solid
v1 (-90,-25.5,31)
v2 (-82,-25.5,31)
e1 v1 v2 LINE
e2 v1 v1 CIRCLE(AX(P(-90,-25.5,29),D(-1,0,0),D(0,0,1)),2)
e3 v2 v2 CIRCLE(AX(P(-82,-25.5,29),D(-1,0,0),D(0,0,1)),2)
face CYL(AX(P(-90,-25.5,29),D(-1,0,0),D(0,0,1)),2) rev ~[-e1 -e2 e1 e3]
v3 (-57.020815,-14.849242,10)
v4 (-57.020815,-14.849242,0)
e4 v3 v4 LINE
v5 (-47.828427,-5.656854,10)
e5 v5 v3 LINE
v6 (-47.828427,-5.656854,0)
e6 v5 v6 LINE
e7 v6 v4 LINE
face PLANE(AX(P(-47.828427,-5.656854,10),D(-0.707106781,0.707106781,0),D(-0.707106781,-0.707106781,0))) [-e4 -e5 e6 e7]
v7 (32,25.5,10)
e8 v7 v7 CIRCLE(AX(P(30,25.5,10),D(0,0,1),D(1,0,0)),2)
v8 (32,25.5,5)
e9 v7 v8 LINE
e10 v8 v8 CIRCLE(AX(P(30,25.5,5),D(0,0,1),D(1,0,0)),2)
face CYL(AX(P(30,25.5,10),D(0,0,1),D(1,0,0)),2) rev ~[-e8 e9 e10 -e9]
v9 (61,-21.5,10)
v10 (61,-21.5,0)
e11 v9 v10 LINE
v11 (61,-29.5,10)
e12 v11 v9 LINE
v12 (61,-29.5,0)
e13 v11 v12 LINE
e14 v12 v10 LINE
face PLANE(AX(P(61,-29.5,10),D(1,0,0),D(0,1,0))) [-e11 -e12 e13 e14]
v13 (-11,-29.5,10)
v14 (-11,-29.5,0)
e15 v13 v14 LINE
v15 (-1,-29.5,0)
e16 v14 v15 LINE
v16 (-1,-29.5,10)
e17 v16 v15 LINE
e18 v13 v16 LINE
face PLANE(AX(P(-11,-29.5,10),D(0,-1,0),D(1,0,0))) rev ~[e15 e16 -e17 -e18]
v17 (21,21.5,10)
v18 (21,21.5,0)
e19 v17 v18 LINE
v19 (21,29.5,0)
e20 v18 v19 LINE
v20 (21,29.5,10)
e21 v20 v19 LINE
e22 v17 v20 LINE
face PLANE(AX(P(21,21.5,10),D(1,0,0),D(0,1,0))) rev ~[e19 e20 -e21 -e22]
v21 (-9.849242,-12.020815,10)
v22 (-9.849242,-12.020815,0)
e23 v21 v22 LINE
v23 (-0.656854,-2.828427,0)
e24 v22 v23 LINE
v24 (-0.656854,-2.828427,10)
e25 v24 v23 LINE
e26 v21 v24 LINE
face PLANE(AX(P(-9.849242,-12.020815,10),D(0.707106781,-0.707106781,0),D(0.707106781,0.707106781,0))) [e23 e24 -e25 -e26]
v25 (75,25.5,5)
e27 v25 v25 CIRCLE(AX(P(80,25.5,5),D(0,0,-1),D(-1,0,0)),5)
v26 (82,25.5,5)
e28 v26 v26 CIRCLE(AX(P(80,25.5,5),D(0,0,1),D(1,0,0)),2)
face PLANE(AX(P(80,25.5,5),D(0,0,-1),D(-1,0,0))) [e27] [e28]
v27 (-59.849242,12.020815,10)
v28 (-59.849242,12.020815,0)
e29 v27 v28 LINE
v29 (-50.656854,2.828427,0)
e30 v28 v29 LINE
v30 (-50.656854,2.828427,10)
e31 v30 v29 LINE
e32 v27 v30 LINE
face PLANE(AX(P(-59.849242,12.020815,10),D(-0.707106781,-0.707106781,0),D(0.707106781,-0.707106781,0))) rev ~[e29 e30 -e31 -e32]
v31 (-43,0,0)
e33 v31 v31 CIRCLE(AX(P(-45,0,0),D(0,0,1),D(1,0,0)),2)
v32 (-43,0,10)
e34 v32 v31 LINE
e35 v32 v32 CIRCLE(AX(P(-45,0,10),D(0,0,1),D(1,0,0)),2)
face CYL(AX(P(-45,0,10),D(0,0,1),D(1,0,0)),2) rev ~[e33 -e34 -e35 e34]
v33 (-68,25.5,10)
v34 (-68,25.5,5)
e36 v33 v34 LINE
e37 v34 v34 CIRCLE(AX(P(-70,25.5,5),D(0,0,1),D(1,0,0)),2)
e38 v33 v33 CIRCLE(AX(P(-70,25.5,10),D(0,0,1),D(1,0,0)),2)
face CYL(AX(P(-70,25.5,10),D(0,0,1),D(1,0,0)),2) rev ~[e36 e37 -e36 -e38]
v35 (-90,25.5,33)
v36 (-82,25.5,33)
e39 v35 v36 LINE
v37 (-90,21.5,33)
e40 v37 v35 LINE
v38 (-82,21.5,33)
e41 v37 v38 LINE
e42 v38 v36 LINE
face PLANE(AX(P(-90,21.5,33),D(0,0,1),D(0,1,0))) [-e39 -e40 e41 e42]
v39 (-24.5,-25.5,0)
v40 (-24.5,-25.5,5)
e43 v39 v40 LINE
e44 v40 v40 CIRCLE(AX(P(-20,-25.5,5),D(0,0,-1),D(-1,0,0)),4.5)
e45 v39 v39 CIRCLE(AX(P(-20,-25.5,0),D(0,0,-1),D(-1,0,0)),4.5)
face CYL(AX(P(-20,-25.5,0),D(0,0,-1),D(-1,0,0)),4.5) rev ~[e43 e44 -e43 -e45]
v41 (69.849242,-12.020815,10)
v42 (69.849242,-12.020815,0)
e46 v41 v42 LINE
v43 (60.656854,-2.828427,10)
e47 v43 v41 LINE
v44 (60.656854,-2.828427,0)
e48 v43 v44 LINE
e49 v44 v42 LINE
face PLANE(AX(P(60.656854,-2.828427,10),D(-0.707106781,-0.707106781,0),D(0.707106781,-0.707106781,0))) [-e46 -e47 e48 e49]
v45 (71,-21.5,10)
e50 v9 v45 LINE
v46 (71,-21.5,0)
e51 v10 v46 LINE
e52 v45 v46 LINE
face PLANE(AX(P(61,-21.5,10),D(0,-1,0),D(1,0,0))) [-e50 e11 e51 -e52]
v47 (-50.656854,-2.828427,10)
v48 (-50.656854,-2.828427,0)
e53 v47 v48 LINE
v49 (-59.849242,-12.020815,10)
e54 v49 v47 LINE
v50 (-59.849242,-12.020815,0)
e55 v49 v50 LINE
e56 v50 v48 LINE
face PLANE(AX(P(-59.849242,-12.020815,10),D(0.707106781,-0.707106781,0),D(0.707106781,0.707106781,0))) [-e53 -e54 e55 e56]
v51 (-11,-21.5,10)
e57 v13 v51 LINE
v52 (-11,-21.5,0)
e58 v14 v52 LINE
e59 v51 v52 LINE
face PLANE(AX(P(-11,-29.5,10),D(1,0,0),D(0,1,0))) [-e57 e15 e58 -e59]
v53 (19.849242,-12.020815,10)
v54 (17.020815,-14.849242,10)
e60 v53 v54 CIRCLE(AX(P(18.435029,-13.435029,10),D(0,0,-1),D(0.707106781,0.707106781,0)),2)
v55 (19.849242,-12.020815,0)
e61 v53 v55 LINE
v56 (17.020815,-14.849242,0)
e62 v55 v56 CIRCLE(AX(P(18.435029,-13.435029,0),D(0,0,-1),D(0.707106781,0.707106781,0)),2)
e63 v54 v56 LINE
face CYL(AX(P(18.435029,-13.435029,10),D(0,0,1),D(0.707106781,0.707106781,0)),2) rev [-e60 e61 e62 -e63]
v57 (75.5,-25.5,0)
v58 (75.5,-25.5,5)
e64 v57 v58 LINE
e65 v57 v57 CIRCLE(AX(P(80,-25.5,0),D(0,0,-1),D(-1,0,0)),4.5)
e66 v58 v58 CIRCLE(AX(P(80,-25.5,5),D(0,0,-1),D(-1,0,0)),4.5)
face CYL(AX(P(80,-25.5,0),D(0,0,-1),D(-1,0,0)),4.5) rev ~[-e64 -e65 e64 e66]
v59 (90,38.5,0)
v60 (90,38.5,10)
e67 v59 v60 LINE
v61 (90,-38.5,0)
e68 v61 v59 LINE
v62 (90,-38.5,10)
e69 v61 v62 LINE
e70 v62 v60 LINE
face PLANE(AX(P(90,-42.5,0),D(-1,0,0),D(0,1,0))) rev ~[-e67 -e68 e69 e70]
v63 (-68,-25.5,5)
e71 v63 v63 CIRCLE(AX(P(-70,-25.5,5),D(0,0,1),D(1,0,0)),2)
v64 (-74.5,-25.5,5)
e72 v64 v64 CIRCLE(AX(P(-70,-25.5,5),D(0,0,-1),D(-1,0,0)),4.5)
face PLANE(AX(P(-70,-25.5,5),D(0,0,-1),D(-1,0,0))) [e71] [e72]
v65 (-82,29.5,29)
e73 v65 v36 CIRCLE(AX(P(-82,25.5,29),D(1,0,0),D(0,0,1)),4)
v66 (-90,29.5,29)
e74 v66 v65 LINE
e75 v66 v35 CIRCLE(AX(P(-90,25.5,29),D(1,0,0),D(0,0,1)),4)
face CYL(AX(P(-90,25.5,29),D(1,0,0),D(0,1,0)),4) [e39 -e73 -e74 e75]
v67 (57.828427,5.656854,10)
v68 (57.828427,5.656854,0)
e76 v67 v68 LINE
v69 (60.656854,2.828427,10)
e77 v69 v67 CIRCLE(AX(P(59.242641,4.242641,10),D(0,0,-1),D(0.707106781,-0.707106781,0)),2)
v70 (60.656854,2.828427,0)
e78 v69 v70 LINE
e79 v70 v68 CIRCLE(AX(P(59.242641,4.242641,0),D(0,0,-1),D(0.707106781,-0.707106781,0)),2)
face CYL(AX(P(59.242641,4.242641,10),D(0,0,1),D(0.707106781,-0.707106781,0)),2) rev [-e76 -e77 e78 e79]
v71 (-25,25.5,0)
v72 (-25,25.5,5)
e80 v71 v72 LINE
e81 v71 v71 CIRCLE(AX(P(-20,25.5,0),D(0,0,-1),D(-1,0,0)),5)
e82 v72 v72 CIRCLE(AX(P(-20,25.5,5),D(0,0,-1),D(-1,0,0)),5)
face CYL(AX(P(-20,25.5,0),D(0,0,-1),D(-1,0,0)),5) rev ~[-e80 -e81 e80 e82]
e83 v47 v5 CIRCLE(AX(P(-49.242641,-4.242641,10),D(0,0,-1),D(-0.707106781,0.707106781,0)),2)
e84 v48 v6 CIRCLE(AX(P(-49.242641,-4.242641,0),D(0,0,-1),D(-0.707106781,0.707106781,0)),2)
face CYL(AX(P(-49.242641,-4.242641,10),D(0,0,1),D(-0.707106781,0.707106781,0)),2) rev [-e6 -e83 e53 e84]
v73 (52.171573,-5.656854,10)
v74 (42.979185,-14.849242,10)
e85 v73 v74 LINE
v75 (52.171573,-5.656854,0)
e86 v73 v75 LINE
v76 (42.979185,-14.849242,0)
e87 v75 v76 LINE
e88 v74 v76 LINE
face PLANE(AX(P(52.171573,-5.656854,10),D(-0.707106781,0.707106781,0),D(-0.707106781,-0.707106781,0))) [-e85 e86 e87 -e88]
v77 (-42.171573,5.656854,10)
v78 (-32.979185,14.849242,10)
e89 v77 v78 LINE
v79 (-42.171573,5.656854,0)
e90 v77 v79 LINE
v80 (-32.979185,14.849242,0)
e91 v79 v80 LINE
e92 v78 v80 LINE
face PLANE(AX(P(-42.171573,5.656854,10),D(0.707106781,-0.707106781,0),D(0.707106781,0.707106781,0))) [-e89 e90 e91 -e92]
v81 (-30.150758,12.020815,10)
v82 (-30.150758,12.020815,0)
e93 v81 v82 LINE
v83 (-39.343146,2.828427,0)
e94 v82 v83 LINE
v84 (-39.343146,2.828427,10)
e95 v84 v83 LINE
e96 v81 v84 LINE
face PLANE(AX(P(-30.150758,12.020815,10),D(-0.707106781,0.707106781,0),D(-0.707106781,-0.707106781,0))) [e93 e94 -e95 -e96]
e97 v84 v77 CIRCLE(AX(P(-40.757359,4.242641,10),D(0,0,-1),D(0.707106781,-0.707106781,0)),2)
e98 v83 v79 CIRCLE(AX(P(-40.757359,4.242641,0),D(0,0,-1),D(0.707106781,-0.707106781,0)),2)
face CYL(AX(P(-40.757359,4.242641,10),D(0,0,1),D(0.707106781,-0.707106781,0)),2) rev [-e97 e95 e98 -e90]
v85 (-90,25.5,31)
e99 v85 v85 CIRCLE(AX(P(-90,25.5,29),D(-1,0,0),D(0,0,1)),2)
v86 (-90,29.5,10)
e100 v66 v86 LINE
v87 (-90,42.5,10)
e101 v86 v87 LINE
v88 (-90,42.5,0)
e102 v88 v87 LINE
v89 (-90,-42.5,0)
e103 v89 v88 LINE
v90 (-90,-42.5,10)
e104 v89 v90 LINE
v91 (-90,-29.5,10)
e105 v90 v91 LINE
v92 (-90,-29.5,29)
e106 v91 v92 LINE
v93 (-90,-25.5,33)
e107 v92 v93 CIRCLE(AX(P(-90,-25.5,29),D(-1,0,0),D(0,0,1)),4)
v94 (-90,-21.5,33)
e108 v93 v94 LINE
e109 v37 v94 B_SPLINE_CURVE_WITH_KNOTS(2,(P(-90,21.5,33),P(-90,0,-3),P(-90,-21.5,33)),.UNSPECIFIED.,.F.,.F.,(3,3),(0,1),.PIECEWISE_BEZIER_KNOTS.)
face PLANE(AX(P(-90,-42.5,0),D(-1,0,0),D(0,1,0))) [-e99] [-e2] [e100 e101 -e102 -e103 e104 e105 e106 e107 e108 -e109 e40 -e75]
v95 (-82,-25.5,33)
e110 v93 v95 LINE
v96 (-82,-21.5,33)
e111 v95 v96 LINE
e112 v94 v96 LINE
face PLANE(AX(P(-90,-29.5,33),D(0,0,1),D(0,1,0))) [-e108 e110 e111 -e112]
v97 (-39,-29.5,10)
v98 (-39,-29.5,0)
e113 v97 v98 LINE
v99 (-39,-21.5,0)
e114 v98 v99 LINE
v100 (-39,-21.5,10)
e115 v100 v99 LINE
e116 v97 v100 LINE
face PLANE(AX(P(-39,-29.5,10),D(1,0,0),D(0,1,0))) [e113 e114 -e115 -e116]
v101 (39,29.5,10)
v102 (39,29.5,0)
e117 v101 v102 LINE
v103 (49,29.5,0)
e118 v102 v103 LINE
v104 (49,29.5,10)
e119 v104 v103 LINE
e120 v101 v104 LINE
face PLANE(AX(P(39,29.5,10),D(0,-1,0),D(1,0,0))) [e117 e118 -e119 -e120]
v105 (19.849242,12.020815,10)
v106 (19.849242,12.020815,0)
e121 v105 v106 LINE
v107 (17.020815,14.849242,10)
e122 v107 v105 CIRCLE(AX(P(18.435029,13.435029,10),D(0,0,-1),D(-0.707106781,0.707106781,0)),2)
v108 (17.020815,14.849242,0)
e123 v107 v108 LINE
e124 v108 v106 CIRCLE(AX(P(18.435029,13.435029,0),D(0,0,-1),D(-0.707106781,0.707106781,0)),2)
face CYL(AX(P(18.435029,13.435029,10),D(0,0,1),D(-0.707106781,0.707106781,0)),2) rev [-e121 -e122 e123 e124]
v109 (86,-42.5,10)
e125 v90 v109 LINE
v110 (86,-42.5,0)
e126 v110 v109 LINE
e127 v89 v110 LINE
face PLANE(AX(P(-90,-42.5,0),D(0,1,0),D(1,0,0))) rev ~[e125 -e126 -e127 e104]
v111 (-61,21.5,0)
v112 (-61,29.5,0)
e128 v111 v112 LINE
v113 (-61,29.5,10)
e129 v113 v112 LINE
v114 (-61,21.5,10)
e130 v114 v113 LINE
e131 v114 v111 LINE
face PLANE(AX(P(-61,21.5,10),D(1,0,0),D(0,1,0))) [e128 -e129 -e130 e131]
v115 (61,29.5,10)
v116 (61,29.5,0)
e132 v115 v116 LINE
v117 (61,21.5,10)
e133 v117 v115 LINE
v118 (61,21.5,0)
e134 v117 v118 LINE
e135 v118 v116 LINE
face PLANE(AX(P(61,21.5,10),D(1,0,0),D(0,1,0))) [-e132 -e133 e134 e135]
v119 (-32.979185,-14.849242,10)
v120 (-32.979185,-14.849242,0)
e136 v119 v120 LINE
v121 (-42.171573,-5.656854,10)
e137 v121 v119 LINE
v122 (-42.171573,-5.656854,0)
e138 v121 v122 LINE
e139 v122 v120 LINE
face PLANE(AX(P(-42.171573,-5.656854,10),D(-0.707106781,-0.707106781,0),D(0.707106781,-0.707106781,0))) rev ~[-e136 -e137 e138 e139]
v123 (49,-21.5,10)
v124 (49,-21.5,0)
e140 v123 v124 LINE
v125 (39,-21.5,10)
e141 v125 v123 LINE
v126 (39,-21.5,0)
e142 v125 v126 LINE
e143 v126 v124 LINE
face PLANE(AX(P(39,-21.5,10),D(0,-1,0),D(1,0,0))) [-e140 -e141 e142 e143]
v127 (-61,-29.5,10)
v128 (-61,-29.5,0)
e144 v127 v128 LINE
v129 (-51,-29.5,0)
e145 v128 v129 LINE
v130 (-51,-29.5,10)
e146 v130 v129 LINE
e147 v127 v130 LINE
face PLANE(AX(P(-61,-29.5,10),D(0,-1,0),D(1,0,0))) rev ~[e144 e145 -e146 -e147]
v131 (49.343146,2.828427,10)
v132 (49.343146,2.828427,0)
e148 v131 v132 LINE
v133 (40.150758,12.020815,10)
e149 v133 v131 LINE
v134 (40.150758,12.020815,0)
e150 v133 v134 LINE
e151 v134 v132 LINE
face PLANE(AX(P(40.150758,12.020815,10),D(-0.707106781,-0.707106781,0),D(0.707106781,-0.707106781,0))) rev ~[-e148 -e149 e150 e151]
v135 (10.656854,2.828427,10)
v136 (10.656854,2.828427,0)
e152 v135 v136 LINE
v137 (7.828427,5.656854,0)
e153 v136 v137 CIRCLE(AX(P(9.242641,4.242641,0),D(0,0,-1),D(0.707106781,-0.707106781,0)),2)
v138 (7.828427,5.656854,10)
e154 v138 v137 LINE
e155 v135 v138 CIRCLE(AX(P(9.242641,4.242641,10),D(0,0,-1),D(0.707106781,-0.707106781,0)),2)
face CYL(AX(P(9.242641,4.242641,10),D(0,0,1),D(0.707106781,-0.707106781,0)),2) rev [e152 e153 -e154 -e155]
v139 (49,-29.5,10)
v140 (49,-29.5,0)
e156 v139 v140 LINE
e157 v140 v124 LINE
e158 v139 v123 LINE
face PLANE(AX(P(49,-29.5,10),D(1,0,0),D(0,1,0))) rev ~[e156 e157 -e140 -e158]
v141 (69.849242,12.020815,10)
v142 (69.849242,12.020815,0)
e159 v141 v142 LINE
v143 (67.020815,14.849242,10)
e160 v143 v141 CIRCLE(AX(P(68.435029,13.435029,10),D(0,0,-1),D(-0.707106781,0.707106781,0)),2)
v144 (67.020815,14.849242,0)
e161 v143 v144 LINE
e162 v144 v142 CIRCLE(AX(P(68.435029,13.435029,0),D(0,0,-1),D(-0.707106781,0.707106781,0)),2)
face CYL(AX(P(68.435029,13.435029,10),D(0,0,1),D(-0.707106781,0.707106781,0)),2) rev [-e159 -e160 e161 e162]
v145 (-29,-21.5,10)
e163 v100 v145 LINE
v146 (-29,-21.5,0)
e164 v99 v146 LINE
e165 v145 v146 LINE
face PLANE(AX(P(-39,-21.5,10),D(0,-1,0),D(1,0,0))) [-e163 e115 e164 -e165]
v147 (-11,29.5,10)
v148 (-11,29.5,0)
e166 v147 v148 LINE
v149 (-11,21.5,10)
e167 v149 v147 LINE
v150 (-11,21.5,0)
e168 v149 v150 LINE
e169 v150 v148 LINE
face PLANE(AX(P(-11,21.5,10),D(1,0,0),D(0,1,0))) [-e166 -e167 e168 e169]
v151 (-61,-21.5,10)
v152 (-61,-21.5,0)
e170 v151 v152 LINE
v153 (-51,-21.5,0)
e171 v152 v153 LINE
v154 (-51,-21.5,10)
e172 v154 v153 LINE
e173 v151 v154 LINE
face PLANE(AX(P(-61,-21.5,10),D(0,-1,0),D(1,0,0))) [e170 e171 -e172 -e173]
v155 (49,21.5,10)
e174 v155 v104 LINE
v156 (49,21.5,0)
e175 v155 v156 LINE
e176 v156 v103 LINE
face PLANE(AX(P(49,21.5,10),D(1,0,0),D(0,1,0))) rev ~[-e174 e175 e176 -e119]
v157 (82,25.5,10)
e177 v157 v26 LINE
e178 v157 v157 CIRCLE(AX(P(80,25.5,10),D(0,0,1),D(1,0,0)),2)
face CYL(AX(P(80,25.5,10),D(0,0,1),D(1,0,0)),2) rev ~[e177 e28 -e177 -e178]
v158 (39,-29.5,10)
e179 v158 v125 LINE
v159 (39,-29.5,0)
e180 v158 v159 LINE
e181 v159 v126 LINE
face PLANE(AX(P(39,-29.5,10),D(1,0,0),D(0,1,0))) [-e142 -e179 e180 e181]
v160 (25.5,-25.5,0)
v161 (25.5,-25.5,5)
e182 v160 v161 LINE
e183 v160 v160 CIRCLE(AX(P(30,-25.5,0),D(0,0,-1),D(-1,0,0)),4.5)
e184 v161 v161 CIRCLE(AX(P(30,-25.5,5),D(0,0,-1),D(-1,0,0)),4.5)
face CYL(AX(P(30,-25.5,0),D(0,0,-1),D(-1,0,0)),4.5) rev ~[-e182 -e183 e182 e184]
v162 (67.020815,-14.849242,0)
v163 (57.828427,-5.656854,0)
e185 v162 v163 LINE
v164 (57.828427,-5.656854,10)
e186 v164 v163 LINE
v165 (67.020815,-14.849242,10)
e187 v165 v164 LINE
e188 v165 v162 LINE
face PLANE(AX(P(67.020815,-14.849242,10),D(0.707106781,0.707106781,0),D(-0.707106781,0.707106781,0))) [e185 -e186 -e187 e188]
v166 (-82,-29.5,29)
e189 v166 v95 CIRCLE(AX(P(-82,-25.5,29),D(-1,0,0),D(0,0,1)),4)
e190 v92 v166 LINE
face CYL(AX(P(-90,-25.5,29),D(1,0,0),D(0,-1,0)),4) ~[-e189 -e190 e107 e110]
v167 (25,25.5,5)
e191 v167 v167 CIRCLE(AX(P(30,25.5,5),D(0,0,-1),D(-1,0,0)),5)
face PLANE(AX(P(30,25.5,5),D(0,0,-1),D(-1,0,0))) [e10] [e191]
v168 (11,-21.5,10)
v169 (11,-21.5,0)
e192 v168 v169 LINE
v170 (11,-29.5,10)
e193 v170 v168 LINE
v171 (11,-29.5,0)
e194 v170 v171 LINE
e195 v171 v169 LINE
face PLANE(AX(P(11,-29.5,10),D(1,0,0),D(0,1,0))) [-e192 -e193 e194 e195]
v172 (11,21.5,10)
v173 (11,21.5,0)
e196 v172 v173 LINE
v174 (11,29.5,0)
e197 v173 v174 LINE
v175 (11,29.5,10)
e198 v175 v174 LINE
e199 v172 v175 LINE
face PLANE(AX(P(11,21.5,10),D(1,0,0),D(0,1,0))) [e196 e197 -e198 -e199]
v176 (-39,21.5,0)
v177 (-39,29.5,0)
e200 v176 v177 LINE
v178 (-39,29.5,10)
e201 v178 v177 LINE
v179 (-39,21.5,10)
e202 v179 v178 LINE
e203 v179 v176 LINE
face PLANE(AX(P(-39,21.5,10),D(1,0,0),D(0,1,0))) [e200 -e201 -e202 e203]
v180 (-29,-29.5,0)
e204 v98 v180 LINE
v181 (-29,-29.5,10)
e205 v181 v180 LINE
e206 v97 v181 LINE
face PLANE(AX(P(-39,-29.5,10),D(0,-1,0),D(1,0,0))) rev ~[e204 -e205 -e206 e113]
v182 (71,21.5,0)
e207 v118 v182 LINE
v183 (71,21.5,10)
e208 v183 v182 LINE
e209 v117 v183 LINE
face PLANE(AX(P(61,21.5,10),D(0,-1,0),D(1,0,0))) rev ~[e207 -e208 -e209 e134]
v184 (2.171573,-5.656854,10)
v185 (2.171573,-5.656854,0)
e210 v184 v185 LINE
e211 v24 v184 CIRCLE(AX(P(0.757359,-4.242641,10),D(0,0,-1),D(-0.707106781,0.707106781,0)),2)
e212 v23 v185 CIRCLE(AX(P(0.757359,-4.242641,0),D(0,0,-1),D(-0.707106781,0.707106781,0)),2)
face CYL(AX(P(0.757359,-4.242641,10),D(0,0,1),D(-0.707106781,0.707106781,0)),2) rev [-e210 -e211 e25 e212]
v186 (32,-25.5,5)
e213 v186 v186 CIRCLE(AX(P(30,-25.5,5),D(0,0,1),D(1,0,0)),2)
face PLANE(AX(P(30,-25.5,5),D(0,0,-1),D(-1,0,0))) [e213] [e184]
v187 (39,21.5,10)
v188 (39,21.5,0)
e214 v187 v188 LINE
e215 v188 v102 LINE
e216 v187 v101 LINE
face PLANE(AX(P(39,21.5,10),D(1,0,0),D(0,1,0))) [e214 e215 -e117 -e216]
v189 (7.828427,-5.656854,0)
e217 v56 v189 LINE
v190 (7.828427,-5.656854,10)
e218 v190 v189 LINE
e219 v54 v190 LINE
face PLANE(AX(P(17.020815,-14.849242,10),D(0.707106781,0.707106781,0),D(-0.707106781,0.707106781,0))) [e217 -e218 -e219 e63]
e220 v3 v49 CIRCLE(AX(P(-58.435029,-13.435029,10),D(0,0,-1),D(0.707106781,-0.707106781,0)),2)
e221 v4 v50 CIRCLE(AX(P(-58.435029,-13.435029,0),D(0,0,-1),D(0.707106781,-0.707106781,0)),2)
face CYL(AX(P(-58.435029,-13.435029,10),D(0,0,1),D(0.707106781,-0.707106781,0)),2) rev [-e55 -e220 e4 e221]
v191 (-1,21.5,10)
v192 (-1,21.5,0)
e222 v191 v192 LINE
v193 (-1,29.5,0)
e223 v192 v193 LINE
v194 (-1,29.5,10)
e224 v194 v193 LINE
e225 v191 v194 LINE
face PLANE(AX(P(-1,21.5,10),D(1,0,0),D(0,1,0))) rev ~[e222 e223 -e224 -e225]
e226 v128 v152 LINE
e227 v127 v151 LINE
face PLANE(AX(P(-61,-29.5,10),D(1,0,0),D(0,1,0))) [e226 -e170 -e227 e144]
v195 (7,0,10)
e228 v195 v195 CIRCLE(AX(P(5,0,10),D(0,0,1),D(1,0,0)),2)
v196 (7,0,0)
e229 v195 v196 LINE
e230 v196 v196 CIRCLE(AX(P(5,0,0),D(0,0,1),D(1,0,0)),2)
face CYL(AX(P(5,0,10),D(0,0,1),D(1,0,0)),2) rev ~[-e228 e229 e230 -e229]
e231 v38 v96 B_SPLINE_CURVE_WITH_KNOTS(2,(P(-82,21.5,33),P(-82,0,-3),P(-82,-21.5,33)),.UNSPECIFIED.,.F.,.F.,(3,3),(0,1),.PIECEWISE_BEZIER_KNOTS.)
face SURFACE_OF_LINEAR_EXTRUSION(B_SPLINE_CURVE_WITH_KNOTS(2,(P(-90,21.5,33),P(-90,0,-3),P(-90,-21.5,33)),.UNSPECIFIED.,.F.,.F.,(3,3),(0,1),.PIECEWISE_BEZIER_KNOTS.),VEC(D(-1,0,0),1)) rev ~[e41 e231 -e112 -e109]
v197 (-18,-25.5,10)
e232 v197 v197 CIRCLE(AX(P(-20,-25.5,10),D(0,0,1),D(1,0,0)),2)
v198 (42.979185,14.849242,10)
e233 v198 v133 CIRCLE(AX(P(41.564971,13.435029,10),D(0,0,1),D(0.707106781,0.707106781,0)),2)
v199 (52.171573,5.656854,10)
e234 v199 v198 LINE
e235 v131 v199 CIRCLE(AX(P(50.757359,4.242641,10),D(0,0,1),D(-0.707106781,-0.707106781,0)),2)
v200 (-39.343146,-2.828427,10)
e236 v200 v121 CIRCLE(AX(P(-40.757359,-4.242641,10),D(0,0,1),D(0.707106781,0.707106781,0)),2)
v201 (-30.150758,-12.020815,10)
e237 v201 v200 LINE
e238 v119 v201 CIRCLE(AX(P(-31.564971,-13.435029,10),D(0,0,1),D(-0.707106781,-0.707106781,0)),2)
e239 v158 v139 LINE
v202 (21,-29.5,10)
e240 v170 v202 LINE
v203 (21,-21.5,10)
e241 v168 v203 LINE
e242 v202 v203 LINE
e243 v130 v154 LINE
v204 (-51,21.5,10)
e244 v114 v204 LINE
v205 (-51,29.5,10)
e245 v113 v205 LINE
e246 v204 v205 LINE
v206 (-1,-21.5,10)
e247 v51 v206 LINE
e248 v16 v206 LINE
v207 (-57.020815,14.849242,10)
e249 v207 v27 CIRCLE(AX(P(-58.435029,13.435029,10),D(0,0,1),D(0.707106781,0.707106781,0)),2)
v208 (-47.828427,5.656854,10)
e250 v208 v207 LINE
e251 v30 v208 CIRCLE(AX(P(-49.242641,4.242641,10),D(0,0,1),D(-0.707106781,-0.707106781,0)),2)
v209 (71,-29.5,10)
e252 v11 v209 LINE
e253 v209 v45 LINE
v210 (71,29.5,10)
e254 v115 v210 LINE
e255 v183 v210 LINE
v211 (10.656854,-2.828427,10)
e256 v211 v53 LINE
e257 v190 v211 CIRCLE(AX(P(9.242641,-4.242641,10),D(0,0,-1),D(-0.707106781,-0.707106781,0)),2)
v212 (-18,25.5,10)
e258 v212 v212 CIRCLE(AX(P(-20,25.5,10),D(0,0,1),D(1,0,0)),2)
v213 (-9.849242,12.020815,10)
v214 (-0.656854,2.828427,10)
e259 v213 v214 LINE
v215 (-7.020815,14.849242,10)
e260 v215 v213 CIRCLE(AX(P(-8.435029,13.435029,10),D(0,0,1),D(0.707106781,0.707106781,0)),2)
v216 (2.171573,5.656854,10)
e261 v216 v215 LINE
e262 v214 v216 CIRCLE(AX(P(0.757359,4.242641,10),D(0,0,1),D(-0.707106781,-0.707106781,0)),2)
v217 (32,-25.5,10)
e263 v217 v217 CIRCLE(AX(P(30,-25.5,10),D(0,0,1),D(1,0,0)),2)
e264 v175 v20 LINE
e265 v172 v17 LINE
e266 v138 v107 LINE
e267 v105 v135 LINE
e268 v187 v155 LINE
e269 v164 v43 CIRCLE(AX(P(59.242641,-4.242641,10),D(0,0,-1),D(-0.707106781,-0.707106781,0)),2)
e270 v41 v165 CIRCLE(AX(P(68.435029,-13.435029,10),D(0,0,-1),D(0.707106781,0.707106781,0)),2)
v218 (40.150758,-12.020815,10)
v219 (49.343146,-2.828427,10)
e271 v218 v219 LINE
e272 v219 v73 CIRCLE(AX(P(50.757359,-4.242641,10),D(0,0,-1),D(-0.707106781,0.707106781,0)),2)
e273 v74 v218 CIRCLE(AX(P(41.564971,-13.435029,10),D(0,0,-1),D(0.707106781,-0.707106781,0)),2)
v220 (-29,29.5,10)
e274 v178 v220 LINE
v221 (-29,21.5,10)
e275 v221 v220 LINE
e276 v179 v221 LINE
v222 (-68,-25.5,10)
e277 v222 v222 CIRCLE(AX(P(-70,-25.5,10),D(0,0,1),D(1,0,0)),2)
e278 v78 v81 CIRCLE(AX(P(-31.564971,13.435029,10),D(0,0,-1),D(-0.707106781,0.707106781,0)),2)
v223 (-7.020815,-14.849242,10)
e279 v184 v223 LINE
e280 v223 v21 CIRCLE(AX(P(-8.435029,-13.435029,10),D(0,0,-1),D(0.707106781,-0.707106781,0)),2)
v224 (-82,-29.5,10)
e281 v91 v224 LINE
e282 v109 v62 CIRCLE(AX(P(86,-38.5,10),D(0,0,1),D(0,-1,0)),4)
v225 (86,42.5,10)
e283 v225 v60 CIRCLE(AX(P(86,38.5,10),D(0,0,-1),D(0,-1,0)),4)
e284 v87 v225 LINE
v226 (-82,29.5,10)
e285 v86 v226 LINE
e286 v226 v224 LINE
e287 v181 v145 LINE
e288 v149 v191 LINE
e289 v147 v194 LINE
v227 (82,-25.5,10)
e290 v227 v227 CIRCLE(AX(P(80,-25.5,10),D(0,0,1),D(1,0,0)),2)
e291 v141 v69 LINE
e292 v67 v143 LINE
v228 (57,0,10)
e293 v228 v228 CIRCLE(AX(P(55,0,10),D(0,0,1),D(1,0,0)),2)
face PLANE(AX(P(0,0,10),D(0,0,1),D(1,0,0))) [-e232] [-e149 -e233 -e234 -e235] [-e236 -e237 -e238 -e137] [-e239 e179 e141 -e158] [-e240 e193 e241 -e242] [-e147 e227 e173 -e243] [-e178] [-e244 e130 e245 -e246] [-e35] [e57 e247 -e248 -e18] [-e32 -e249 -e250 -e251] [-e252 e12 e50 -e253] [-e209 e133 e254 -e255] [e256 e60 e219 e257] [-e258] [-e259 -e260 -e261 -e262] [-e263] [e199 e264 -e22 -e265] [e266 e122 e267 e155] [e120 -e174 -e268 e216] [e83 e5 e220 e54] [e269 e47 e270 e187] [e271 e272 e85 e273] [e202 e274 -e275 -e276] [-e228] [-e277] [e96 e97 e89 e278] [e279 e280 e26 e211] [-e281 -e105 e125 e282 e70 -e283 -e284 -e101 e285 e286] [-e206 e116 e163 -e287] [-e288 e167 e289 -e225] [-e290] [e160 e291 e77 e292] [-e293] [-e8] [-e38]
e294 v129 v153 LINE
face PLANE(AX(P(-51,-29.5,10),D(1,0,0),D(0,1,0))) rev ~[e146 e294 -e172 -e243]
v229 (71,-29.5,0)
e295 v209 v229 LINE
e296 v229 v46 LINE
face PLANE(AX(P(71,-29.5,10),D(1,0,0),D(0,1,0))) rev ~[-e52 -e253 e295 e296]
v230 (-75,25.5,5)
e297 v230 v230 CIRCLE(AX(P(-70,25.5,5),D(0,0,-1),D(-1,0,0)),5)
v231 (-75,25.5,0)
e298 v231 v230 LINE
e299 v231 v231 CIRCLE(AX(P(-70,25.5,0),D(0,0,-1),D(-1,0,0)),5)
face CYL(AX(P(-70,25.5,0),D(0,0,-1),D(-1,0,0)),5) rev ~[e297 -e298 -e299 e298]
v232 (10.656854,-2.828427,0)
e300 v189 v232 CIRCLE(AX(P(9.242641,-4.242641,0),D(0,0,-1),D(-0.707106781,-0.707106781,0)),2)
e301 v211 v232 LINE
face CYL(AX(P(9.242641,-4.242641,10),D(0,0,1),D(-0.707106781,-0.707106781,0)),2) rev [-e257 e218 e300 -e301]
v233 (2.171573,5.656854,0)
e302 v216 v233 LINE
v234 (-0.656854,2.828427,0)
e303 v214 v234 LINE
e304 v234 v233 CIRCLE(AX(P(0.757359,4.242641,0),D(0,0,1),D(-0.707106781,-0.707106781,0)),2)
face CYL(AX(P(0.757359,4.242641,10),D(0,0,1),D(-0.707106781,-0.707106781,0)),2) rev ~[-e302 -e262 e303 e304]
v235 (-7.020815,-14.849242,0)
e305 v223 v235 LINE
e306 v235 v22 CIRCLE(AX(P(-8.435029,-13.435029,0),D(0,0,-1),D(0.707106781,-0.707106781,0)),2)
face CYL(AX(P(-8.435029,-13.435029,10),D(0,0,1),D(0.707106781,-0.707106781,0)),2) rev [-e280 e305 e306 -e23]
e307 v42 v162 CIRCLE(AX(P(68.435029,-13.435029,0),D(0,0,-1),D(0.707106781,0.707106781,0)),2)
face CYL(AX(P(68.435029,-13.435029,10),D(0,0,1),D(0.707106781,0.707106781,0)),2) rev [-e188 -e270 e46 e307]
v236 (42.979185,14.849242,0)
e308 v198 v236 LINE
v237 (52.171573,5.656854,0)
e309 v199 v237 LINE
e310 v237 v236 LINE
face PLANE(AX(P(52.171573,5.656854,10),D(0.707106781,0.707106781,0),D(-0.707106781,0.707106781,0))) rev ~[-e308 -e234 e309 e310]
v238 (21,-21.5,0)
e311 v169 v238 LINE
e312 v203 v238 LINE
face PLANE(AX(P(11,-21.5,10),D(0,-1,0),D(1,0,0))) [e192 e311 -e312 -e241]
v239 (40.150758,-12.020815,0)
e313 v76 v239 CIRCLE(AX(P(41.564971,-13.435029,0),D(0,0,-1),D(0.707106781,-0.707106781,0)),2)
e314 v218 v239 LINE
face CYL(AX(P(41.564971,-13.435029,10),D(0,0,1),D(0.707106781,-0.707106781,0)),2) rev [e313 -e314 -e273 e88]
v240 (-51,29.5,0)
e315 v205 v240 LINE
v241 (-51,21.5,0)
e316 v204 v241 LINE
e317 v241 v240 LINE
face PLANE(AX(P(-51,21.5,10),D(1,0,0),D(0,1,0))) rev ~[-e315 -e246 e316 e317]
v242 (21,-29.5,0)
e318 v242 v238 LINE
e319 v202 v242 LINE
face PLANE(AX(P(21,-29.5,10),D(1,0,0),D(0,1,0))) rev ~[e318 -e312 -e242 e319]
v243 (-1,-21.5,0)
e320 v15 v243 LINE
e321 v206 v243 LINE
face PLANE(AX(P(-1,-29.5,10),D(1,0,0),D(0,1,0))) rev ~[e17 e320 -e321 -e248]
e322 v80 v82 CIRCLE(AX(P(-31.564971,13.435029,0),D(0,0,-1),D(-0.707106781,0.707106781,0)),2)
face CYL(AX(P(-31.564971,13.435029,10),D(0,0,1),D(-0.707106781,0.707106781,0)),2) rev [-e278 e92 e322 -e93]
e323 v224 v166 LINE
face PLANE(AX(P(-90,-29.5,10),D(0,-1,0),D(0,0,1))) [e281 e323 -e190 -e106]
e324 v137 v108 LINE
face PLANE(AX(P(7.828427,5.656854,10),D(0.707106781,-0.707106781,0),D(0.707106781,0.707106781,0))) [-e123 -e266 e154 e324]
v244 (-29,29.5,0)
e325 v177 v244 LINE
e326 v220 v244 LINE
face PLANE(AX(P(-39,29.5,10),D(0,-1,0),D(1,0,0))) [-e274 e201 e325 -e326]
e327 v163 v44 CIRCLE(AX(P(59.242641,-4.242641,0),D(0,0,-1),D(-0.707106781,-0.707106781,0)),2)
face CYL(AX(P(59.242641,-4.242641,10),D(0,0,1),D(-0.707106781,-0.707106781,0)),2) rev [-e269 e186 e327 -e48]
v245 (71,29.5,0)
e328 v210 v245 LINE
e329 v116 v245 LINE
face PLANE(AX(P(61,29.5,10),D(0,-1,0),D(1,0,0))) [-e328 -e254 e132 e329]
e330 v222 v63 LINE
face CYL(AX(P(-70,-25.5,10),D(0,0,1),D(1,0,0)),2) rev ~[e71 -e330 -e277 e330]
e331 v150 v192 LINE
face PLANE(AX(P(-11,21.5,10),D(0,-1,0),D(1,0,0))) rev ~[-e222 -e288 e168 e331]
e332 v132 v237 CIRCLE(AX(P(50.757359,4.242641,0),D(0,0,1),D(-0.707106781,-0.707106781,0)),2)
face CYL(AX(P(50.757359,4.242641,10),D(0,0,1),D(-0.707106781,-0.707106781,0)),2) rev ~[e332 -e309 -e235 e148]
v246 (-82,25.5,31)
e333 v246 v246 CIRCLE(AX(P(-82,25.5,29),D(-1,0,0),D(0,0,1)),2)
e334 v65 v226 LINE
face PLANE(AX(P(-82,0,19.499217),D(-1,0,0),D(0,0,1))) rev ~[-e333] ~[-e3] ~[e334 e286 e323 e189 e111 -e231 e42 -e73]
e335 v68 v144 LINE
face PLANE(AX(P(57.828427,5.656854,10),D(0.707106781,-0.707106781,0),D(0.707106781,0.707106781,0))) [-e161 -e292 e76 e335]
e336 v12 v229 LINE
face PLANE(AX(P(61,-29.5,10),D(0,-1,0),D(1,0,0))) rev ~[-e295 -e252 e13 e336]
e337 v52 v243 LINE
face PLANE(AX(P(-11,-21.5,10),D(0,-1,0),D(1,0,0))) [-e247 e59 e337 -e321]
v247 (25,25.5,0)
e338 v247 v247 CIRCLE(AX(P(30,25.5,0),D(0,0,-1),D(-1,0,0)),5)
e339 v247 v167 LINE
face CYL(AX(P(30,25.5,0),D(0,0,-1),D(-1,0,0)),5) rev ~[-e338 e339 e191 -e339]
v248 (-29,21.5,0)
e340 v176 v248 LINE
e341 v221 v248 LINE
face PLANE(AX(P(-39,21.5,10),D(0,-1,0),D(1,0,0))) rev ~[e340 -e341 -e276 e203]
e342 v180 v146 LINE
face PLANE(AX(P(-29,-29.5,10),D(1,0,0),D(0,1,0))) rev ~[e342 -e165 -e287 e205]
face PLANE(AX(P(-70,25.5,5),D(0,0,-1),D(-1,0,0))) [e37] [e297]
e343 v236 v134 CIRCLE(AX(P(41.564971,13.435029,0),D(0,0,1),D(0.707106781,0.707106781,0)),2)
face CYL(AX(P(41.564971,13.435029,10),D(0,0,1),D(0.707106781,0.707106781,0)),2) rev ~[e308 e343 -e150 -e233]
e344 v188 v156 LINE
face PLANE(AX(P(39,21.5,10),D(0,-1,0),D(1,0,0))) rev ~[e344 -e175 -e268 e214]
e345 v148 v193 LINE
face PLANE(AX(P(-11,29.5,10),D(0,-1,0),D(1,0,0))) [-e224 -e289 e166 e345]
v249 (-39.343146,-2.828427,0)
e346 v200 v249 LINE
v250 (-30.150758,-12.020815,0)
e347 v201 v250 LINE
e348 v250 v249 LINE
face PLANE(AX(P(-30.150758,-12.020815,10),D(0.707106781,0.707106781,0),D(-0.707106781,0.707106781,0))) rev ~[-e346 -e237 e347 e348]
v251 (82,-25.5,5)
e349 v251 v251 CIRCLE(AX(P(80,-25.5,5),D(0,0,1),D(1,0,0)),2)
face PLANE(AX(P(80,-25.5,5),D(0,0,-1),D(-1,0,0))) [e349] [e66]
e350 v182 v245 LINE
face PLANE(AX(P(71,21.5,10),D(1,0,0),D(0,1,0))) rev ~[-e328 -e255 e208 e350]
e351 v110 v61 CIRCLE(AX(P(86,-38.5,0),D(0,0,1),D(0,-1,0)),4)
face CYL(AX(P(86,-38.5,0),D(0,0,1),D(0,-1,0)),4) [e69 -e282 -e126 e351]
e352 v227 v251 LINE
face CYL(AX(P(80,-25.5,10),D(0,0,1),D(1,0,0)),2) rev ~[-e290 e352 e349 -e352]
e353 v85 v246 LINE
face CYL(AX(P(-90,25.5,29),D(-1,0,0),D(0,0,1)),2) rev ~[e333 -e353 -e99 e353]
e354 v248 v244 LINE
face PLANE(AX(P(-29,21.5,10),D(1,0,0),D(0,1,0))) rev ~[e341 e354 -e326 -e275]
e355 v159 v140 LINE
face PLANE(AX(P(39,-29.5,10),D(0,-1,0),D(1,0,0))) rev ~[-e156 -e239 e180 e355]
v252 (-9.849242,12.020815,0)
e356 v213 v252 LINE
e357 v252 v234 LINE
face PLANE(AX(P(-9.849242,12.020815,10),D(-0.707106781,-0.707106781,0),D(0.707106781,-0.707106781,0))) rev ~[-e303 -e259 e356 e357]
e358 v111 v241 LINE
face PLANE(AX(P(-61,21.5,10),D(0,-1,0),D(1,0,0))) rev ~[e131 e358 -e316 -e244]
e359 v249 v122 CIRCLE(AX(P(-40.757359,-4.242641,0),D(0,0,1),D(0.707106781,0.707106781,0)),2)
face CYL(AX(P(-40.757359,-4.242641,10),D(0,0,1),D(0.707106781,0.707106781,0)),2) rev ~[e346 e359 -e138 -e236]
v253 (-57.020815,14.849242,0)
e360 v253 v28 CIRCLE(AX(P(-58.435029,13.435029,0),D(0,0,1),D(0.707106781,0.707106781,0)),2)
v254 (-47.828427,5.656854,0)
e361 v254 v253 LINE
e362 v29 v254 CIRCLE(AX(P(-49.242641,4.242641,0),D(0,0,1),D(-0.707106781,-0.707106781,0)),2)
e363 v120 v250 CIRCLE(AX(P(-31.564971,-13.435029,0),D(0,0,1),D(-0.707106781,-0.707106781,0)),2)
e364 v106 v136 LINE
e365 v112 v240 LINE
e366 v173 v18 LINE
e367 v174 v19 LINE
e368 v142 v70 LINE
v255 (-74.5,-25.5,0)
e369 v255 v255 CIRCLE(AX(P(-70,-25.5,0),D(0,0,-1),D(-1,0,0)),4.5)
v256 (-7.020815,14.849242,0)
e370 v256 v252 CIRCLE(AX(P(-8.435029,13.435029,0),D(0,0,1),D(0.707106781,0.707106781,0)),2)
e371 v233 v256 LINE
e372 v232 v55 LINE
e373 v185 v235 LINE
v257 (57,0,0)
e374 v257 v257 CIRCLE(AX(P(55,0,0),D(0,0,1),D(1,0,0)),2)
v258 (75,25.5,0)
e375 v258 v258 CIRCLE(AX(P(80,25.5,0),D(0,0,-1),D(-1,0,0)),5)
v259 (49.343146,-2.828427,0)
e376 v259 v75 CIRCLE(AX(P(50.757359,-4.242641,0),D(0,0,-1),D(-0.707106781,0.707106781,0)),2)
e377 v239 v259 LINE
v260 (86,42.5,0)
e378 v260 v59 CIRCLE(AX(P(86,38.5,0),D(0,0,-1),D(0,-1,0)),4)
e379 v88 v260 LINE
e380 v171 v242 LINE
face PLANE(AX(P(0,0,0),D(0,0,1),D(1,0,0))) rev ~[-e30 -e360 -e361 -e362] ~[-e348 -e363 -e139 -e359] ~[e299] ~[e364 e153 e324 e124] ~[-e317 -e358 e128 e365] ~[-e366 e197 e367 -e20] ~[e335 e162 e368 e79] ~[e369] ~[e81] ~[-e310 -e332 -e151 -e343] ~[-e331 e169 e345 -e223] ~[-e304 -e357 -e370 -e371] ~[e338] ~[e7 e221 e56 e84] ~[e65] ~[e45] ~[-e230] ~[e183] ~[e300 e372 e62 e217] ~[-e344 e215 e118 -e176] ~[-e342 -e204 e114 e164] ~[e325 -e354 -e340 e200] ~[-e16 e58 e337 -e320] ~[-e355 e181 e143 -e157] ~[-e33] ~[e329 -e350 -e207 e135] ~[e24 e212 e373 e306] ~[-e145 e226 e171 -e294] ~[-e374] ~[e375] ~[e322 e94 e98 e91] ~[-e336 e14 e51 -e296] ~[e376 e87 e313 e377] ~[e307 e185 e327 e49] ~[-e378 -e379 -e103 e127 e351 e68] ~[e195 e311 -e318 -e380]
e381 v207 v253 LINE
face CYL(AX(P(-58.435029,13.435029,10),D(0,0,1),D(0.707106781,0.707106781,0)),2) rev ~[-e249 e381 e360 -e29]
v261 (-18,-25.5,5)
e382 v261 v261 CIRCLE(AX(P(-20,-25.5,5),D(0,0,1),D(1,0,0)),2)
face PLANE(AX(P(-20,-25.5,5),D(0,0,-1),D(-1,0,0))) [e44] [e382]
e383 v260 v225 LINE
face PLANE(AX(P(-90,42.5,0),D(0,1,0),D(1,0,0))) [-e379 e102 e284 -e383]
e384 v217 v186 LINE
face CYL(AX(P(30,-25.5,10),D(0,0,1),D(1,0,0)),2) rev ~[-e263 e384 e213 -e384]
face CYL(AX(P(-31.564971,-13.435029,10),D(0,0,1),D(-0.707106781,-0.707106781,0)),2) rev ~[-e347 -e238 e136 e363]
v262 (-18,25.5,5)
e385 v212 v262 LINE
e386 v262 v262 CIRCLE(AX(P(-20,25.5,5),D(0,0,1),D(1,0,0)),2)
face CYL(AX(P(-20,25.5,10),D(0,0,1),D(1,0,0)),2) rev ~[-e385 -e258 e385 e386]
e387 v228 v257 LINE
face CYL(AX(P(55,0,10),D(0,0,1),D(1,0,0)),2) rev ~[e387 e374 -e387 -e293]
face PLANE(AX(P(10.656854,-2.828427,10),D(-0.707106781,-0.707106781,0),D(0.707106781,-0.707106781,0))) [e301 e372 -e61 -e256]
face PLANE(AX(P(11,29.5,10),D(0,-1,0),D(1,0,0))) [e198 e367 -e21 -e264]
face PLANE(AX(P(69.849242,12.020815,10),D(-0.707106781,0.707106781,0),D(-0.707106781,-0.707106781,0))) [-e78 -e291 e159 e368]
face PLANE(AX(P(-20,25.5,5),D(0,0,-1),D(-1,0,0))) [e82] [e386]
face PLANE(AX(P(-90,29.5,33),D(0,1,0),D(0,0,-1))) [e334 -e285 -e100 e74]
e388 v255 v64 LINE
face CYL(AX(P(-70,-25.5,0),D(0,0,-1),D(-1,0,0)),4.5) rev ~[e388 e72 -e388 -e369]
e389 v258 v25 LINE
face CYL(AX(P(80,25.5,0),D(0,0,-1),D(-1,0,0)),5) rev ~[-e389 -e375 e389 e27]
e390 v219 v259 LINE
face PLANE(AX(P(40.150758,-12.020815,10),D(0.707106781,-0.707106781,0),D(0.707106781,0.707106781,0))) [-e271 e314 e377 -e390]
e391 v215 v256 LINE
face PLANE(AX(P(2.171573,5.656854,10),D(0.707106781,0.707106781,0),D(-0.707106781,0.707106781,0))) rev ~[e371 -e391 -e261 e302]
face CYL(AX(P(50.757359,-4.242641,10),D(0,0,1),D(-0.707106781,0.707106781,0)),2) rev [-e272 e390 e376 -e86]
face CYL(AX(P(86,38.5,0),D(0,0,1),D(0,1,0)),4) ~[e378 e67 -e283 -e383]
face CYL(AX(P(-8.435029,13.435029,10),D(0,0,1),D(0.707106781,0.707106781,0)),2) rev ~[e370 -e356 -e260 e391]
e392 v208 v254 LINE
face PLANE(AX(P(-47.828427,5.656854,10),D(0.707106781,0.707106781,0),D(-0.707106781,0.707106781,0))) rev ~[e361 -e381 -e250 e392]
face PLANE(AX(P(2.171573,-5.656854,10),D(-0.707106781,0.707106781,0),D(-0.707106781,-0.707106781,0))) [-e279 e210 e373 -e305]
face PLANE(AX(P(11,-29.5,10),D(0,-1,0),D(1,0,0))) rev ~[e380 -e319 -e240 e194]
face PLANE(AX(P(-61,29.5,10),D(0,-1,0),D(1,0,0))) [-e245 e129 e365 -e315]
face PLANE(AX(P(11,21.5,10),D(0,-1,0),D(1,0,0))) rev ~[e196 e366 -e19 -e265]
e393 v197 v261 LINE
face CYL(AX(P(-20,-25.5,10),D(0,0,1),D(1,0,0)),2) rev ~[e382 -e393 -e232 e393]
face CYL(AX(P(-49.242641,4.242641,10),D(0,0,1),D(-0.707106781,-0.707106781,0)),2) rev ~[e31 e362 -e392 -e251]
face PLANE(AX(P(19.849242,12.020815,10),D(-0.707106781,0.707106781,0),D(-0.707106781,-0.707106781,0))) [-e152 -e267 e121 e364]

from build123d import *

# Parameters (mm, degrees)
IZIM1_W                     = 180
IZIM1_H                     = 85
Y_KSEKLIK_EKSTR_ZYON1_DEPTH = 10
IZIM2_R                     = 2
IZIM2_W                     = 10
IZIM2_H                     = 8
KES_EKSTR_ZYON1_DEPTH       = 10
IZIM3_R                     = 5
IZIM3_R_2                   = 4.5
KES_EKSTR_ZYON2_DEPTH       = 5
SKETCH1_R                   = 2
BOSS_EXTRUDE1_DEPTH         = 8
FILLET1_R                   = 4


with BuildPart() as part:
    # Çizim1 → Yükseklik-Ekstrüzyon1 (new body)
    with BuildSketch(Plane.XY):
        Rectangle(IZIM1_W, IZIM1_H)
    extrude(amount=Y_KSEKLIK_EKSTR_ZYON1_DEPTH)

    # Çizim2 → Kes-Ekstrüzyon1 (cut)
    with BuildSketch(Plane.XY.offset(10)):
        with Locations((-70, -25.5)):
            Circle(IZIM2_R)
        with Locations((-45, 0)):
            Circle(IZIM2_R)
        with Locations((-70, 25.5)):
            Circle(IZIM2_R)
        with Locations((80, 25.5)):
            Circle(IZIM2_R)
        with Locations((80, -25.5)):
            Circle(IZIM2_R)
        with Locations((-20, 25.5)):
            Circle(IZIM2_R)
        with Locations((5, 0)):
            Circle(IZIM2_R)
        with Locations((-20, -25.5)):
            Circle(IZIM2_R)
        with Locations((30, 25.5)):
            Circle(IZIM2_R)
        with Locations((55, 0)):
            Circle(IZIM2_R)
        with Locations((30, -25.5)):
            Circle(IZIM2_R)
        with Locations((-56, -25.5)):
            Rectangle(IZIM2_W, IZIM2_H)
        with BuildLine():
            Line((-59.849242405, -12.02081528), (-50.656854249, -2.828427125))
            ThreePointArc((-50.656854249, -2.828427125), (-47.828427125, -2.828427125), (-47.828427125, -5.656854249))
            Line((-47.828427125, -5.656854249), (-57.02081528, -14.849242405))
            ThreePointArc((-57.02081528, -14.849242405), (-59.849242405, -14.849242405), (-59.849242405, -12.02081528))
        make_face()
        with Locations((-34, -25.5)):
            Rectangle(IZIM2_W, IZIM2_H)
        with BuildLine():
            Line((-30.150757595, -12.02081528), (-39.343145751, -2.828427125))
            ThreePointArc((-39.343145751, -2.828427125), (-42.171572875, -2.828427125), (-42.171572875, -5.656854249))
            Line((-42.171572875, -5.656854249), (-32.97918472, -14.849242405))
            ThreePointArc((-32.97918472, -14.849242405), (-30.150757595, -14.849242405), (-30.150757595, -12.02081528))
        make_face()
        with BuildLine():
            Line((-59.849242405, 12.02081528), (-50.656854249, 2.828427125))
            ThreePointArc((-50.656854249, 2.828427125), (-47.828427125, 2.828427125), (-47.828427125, 5.656854249))
            Line((-47.828427125, 5.656854249), (-57.02081528, 14.849242405))
            ThreePointArc((-57.02081528, 14.849242405), (-59.849242405, 14.849242405), (-59.849242405, 12.02081528))
        make_face()
        with BuildLine():
            Line((-30.150757595, 12.02081528), (-39.343145751, 2.828427125))
            ThreePointArc((-39.343145751, 2.828427125), (-42.171572875, 2.828427125), (-42.171572875, 5.656854249))
            Line((-42.171572875, 5.656854249), (-32.97918472, 14.849242405))
            ThreePointArc((-32.97918472, 14.849242405), (-30.150757595, 14.849242405), (-30.150757595, 12.02081528))
        make_face()
        with Locations((-34, 25.5)):
            Rectangle(IZIM2_W, IZIM2_H)
        with Locations((-56, 25.5)):
            Rectangle(IZIM2_W, IZIM2_H)
        with Locations((-6, 25.5)):
            Rectangle(IZIM2_W, IZIM2_H)
        with Locations((16, 25.5)):
            Rectangle(IZIM2_W, IZIM2_H)
        with BuildLine():
            Line((-9.849242405, 12.02081528), (-0.656854249, 2.828427125))
            ThreePointArc((-0.656854249, 2.828427125), (2.171572875, 2.828427125), (2.171572875, 5.656854249))
            Line((2.171572875, 5.656854249), (-7.02081528, 14.849242405))
            ThreePointArc((-7.02081528, 14.849242405), (-9.849242405, 14.849242405), (-9.849242405, 12.02081528))
        make_face()
        with BuildLine():
            Line((19.849242405, 12.02081528), (10.656854249, 2.828427125))
            ThreePointArc((10.656854249, 2.828427125), (7.828427125, 2.828427125), (7.828427125, 5.656854249))
            Line((7.828427125, 5.656854249), (17.02081528, 14.849242405))
            ThreePointArc((17.02081528, 14.849242405), (19.849242405, 14.849242405), (19.849242405, 12.02081528))
        make_face()
        with BuildLine():
            Line((17.02081528, -14.849242405), (7.828427125, -5.656854249))
            ThreePointArc((7.828427125, -5.656854249), (7.828427125, -2.828427125), (10.656854249, -2.828427125))
            Line((10.656854249, -2.828427125), (19.849242405, -12.02081528))
            ThreePointArc((19.849242405, -12.02081528), (19.849242405, -14.849242405), (17.02081528, -14.849242405))
        make_face()
        with BuildLine():
            Line((-9.849242405, -12.02081528), (-0.656854249, -2.828427125))
            ThreePointArc((-0.656854249, -2.828427125), (2.171572875, -2.828427125), (2.171572875, -5.656854249))
            Line((2.171572875, -5.656854249), (-7.02081528, -14.849242405))
            ThreePointArc((-7.02081528, -14.849242405), (-9.849242405, -14.849242405), (-9.849242405, -12.02081528))
        make_face()
        with Locations((-6, -25.5)):
            Rectangle(IZIM2_W, IZIM2_H)
        with Locations((16, -25.5)):
            Rectangle(IZIM2_W, IZIM2_H)
        with Locations((44, 25.5)):
            Rectangle(IZIM2_W, IZIM2_H)
        with Locations((66, 25.5)):
            Rectangle(IZIM2_W, IZIM2_H)
        with BuildLine():
            Line((40.150757595, 12.02081528), (49.343145751, 2.828427125))
            ThreePointArc((49.343145751, 2.828427125), (52.171572875, 2.828427125), (52.171572875, 5.656854249))
            Line((52.171572875, 5.656854249), (42.97918472, 14.849242405))
            ThreePointArc((42.97918472, 14.849242405), (40.150757595, 14.849242405), (40.150757595, 12.02081528))
        make_face()
        with BuildLine():
            Line((69.849242405, 12.02081528), (60.656854249, 2.828427125))
            ThreePointArc((60.656854249, 2.828427125), (57.828427125, 2.828427125), (57.828427125, 5.656854249))
            Line((57.828427125, 5.656854249), (67.02081528, 14.849242405))
            ThreePointArc((67.02081528, 14.849242405), (69.849242405, 14.849242405), (69.849242405, 12.02081528))
        make_face()
        with BuildLine():
            Line((67.02081528, -14.849242405), (57.828427125, -5.656854249))
            ThreePointArc((57.828427125, -5.656854249), (57.828427125, -2.828427125), (60.656854249, -2.828427125))
            Line((60.656854249, -2.828427125), (69.849242405, -12.02081528))
            ThreePointArc((69.849242405, -12.02081528), (69.849242405, -14.849242405), (67.02081528, -14.849242405))
        make_face()
        with BuildLine():
            Line((40.150757595, -12.02081528), (49.343145751, -2.828427125))
            ThreePointArc((49.343145751, -2.828427125), (52.171572875, -2.828427125), (52.171572875, -5.656854249))
            Line((52.171572875, -5.656854249), (42.97918472, -14.849242405))
            ThreePointArc((42.97918472, -14.849242405), (40.150757595, -14.849242405), (40.150757595, -12.02081528))
        make_face()
        with Locations((44, -25.5)):
            Rectangle(IZIM2_W, IZIM2_H)
        with Locations((66, -25.5)):
            Rectangle(IZIM2_W, IZIM2_H)
    extrude(amount=-KES_EKSTR_ZYON1_DEPTH, mode=Mode.SUBTRACT)

    # Çizim3 → Kes-Ekstrüzyon2 (cut)
    with BuildSketch(Plane(origin=(0, 0, 0), x_dir=(-1, 0, 0), z_dir=(0, 0, -1))):
        with Locations((70, 25.5)):
            Circle(IZIM3_R)
        with Locations((70, -25.5)):
            Circle(IZIM3_R_2)
        with Locations((20, 25.5)):
            Circle(IZIM3_R)
        with Locations((20, -25.5)):
            Circle(IZIM3_R_2)
        with Locations((-30, 25.5)):
            Circle(IZIM3_R)
        with Locations((-30, -25.5)):
            Circle(IZIM3_R_2)
        with Locations((-80, 25.5)):
            Circle(IZIM3_R)
        with Locations((-80, -25.5)):
            Circle(IZIM3_R_2)
    extrude(amount=-KES_EKSTR_ZYON2_DEPTH, mode=Mode.SUBTRACT)

    # Sketch1 → Boss-Extrude1 (add)
    with BuildSketch(Plane.ZY.offset(90)):
        with BuildLine():
            Line((10, -29.5), (33, -29.5))
            Line((33, -29.5), (33, -21.5))
            add(Edge.make_bspline(
                [(33, 21.5), (-3, 0), (33, -21.5)],
                knots=[0, 0, 0, 1, 1, 1], degree=2))
            Line((33, 21.5), (33, 29.5))
            Line((33, 29.5), (10, 29.5))
            Line((10, 29.5), (10, -29.5))
        make_face()
        with Locations((29, -25.5)):
            Circle(SKETCH1_R, mode=Mode.SUBTRACT)
        with Locations((29, 25.5)):
            Circle(SKETCH1_R, mode=Mode.SUBTRACT)
    extrude(amount=-BOSS_EXTRUDE1_DEPTH)

    # Fillet1
    fillet1_edges = [part.edges().sort_by_distance(p)[0] for p in [
        (-86, 29.5, 33),
        (-86, -29.5, 33),
        (90, 42.5, 5),
        (90, -42.5, 5),
    ]]
    fillet(fillet1_edges, radius=FILLET1_R)


solid = part.part
